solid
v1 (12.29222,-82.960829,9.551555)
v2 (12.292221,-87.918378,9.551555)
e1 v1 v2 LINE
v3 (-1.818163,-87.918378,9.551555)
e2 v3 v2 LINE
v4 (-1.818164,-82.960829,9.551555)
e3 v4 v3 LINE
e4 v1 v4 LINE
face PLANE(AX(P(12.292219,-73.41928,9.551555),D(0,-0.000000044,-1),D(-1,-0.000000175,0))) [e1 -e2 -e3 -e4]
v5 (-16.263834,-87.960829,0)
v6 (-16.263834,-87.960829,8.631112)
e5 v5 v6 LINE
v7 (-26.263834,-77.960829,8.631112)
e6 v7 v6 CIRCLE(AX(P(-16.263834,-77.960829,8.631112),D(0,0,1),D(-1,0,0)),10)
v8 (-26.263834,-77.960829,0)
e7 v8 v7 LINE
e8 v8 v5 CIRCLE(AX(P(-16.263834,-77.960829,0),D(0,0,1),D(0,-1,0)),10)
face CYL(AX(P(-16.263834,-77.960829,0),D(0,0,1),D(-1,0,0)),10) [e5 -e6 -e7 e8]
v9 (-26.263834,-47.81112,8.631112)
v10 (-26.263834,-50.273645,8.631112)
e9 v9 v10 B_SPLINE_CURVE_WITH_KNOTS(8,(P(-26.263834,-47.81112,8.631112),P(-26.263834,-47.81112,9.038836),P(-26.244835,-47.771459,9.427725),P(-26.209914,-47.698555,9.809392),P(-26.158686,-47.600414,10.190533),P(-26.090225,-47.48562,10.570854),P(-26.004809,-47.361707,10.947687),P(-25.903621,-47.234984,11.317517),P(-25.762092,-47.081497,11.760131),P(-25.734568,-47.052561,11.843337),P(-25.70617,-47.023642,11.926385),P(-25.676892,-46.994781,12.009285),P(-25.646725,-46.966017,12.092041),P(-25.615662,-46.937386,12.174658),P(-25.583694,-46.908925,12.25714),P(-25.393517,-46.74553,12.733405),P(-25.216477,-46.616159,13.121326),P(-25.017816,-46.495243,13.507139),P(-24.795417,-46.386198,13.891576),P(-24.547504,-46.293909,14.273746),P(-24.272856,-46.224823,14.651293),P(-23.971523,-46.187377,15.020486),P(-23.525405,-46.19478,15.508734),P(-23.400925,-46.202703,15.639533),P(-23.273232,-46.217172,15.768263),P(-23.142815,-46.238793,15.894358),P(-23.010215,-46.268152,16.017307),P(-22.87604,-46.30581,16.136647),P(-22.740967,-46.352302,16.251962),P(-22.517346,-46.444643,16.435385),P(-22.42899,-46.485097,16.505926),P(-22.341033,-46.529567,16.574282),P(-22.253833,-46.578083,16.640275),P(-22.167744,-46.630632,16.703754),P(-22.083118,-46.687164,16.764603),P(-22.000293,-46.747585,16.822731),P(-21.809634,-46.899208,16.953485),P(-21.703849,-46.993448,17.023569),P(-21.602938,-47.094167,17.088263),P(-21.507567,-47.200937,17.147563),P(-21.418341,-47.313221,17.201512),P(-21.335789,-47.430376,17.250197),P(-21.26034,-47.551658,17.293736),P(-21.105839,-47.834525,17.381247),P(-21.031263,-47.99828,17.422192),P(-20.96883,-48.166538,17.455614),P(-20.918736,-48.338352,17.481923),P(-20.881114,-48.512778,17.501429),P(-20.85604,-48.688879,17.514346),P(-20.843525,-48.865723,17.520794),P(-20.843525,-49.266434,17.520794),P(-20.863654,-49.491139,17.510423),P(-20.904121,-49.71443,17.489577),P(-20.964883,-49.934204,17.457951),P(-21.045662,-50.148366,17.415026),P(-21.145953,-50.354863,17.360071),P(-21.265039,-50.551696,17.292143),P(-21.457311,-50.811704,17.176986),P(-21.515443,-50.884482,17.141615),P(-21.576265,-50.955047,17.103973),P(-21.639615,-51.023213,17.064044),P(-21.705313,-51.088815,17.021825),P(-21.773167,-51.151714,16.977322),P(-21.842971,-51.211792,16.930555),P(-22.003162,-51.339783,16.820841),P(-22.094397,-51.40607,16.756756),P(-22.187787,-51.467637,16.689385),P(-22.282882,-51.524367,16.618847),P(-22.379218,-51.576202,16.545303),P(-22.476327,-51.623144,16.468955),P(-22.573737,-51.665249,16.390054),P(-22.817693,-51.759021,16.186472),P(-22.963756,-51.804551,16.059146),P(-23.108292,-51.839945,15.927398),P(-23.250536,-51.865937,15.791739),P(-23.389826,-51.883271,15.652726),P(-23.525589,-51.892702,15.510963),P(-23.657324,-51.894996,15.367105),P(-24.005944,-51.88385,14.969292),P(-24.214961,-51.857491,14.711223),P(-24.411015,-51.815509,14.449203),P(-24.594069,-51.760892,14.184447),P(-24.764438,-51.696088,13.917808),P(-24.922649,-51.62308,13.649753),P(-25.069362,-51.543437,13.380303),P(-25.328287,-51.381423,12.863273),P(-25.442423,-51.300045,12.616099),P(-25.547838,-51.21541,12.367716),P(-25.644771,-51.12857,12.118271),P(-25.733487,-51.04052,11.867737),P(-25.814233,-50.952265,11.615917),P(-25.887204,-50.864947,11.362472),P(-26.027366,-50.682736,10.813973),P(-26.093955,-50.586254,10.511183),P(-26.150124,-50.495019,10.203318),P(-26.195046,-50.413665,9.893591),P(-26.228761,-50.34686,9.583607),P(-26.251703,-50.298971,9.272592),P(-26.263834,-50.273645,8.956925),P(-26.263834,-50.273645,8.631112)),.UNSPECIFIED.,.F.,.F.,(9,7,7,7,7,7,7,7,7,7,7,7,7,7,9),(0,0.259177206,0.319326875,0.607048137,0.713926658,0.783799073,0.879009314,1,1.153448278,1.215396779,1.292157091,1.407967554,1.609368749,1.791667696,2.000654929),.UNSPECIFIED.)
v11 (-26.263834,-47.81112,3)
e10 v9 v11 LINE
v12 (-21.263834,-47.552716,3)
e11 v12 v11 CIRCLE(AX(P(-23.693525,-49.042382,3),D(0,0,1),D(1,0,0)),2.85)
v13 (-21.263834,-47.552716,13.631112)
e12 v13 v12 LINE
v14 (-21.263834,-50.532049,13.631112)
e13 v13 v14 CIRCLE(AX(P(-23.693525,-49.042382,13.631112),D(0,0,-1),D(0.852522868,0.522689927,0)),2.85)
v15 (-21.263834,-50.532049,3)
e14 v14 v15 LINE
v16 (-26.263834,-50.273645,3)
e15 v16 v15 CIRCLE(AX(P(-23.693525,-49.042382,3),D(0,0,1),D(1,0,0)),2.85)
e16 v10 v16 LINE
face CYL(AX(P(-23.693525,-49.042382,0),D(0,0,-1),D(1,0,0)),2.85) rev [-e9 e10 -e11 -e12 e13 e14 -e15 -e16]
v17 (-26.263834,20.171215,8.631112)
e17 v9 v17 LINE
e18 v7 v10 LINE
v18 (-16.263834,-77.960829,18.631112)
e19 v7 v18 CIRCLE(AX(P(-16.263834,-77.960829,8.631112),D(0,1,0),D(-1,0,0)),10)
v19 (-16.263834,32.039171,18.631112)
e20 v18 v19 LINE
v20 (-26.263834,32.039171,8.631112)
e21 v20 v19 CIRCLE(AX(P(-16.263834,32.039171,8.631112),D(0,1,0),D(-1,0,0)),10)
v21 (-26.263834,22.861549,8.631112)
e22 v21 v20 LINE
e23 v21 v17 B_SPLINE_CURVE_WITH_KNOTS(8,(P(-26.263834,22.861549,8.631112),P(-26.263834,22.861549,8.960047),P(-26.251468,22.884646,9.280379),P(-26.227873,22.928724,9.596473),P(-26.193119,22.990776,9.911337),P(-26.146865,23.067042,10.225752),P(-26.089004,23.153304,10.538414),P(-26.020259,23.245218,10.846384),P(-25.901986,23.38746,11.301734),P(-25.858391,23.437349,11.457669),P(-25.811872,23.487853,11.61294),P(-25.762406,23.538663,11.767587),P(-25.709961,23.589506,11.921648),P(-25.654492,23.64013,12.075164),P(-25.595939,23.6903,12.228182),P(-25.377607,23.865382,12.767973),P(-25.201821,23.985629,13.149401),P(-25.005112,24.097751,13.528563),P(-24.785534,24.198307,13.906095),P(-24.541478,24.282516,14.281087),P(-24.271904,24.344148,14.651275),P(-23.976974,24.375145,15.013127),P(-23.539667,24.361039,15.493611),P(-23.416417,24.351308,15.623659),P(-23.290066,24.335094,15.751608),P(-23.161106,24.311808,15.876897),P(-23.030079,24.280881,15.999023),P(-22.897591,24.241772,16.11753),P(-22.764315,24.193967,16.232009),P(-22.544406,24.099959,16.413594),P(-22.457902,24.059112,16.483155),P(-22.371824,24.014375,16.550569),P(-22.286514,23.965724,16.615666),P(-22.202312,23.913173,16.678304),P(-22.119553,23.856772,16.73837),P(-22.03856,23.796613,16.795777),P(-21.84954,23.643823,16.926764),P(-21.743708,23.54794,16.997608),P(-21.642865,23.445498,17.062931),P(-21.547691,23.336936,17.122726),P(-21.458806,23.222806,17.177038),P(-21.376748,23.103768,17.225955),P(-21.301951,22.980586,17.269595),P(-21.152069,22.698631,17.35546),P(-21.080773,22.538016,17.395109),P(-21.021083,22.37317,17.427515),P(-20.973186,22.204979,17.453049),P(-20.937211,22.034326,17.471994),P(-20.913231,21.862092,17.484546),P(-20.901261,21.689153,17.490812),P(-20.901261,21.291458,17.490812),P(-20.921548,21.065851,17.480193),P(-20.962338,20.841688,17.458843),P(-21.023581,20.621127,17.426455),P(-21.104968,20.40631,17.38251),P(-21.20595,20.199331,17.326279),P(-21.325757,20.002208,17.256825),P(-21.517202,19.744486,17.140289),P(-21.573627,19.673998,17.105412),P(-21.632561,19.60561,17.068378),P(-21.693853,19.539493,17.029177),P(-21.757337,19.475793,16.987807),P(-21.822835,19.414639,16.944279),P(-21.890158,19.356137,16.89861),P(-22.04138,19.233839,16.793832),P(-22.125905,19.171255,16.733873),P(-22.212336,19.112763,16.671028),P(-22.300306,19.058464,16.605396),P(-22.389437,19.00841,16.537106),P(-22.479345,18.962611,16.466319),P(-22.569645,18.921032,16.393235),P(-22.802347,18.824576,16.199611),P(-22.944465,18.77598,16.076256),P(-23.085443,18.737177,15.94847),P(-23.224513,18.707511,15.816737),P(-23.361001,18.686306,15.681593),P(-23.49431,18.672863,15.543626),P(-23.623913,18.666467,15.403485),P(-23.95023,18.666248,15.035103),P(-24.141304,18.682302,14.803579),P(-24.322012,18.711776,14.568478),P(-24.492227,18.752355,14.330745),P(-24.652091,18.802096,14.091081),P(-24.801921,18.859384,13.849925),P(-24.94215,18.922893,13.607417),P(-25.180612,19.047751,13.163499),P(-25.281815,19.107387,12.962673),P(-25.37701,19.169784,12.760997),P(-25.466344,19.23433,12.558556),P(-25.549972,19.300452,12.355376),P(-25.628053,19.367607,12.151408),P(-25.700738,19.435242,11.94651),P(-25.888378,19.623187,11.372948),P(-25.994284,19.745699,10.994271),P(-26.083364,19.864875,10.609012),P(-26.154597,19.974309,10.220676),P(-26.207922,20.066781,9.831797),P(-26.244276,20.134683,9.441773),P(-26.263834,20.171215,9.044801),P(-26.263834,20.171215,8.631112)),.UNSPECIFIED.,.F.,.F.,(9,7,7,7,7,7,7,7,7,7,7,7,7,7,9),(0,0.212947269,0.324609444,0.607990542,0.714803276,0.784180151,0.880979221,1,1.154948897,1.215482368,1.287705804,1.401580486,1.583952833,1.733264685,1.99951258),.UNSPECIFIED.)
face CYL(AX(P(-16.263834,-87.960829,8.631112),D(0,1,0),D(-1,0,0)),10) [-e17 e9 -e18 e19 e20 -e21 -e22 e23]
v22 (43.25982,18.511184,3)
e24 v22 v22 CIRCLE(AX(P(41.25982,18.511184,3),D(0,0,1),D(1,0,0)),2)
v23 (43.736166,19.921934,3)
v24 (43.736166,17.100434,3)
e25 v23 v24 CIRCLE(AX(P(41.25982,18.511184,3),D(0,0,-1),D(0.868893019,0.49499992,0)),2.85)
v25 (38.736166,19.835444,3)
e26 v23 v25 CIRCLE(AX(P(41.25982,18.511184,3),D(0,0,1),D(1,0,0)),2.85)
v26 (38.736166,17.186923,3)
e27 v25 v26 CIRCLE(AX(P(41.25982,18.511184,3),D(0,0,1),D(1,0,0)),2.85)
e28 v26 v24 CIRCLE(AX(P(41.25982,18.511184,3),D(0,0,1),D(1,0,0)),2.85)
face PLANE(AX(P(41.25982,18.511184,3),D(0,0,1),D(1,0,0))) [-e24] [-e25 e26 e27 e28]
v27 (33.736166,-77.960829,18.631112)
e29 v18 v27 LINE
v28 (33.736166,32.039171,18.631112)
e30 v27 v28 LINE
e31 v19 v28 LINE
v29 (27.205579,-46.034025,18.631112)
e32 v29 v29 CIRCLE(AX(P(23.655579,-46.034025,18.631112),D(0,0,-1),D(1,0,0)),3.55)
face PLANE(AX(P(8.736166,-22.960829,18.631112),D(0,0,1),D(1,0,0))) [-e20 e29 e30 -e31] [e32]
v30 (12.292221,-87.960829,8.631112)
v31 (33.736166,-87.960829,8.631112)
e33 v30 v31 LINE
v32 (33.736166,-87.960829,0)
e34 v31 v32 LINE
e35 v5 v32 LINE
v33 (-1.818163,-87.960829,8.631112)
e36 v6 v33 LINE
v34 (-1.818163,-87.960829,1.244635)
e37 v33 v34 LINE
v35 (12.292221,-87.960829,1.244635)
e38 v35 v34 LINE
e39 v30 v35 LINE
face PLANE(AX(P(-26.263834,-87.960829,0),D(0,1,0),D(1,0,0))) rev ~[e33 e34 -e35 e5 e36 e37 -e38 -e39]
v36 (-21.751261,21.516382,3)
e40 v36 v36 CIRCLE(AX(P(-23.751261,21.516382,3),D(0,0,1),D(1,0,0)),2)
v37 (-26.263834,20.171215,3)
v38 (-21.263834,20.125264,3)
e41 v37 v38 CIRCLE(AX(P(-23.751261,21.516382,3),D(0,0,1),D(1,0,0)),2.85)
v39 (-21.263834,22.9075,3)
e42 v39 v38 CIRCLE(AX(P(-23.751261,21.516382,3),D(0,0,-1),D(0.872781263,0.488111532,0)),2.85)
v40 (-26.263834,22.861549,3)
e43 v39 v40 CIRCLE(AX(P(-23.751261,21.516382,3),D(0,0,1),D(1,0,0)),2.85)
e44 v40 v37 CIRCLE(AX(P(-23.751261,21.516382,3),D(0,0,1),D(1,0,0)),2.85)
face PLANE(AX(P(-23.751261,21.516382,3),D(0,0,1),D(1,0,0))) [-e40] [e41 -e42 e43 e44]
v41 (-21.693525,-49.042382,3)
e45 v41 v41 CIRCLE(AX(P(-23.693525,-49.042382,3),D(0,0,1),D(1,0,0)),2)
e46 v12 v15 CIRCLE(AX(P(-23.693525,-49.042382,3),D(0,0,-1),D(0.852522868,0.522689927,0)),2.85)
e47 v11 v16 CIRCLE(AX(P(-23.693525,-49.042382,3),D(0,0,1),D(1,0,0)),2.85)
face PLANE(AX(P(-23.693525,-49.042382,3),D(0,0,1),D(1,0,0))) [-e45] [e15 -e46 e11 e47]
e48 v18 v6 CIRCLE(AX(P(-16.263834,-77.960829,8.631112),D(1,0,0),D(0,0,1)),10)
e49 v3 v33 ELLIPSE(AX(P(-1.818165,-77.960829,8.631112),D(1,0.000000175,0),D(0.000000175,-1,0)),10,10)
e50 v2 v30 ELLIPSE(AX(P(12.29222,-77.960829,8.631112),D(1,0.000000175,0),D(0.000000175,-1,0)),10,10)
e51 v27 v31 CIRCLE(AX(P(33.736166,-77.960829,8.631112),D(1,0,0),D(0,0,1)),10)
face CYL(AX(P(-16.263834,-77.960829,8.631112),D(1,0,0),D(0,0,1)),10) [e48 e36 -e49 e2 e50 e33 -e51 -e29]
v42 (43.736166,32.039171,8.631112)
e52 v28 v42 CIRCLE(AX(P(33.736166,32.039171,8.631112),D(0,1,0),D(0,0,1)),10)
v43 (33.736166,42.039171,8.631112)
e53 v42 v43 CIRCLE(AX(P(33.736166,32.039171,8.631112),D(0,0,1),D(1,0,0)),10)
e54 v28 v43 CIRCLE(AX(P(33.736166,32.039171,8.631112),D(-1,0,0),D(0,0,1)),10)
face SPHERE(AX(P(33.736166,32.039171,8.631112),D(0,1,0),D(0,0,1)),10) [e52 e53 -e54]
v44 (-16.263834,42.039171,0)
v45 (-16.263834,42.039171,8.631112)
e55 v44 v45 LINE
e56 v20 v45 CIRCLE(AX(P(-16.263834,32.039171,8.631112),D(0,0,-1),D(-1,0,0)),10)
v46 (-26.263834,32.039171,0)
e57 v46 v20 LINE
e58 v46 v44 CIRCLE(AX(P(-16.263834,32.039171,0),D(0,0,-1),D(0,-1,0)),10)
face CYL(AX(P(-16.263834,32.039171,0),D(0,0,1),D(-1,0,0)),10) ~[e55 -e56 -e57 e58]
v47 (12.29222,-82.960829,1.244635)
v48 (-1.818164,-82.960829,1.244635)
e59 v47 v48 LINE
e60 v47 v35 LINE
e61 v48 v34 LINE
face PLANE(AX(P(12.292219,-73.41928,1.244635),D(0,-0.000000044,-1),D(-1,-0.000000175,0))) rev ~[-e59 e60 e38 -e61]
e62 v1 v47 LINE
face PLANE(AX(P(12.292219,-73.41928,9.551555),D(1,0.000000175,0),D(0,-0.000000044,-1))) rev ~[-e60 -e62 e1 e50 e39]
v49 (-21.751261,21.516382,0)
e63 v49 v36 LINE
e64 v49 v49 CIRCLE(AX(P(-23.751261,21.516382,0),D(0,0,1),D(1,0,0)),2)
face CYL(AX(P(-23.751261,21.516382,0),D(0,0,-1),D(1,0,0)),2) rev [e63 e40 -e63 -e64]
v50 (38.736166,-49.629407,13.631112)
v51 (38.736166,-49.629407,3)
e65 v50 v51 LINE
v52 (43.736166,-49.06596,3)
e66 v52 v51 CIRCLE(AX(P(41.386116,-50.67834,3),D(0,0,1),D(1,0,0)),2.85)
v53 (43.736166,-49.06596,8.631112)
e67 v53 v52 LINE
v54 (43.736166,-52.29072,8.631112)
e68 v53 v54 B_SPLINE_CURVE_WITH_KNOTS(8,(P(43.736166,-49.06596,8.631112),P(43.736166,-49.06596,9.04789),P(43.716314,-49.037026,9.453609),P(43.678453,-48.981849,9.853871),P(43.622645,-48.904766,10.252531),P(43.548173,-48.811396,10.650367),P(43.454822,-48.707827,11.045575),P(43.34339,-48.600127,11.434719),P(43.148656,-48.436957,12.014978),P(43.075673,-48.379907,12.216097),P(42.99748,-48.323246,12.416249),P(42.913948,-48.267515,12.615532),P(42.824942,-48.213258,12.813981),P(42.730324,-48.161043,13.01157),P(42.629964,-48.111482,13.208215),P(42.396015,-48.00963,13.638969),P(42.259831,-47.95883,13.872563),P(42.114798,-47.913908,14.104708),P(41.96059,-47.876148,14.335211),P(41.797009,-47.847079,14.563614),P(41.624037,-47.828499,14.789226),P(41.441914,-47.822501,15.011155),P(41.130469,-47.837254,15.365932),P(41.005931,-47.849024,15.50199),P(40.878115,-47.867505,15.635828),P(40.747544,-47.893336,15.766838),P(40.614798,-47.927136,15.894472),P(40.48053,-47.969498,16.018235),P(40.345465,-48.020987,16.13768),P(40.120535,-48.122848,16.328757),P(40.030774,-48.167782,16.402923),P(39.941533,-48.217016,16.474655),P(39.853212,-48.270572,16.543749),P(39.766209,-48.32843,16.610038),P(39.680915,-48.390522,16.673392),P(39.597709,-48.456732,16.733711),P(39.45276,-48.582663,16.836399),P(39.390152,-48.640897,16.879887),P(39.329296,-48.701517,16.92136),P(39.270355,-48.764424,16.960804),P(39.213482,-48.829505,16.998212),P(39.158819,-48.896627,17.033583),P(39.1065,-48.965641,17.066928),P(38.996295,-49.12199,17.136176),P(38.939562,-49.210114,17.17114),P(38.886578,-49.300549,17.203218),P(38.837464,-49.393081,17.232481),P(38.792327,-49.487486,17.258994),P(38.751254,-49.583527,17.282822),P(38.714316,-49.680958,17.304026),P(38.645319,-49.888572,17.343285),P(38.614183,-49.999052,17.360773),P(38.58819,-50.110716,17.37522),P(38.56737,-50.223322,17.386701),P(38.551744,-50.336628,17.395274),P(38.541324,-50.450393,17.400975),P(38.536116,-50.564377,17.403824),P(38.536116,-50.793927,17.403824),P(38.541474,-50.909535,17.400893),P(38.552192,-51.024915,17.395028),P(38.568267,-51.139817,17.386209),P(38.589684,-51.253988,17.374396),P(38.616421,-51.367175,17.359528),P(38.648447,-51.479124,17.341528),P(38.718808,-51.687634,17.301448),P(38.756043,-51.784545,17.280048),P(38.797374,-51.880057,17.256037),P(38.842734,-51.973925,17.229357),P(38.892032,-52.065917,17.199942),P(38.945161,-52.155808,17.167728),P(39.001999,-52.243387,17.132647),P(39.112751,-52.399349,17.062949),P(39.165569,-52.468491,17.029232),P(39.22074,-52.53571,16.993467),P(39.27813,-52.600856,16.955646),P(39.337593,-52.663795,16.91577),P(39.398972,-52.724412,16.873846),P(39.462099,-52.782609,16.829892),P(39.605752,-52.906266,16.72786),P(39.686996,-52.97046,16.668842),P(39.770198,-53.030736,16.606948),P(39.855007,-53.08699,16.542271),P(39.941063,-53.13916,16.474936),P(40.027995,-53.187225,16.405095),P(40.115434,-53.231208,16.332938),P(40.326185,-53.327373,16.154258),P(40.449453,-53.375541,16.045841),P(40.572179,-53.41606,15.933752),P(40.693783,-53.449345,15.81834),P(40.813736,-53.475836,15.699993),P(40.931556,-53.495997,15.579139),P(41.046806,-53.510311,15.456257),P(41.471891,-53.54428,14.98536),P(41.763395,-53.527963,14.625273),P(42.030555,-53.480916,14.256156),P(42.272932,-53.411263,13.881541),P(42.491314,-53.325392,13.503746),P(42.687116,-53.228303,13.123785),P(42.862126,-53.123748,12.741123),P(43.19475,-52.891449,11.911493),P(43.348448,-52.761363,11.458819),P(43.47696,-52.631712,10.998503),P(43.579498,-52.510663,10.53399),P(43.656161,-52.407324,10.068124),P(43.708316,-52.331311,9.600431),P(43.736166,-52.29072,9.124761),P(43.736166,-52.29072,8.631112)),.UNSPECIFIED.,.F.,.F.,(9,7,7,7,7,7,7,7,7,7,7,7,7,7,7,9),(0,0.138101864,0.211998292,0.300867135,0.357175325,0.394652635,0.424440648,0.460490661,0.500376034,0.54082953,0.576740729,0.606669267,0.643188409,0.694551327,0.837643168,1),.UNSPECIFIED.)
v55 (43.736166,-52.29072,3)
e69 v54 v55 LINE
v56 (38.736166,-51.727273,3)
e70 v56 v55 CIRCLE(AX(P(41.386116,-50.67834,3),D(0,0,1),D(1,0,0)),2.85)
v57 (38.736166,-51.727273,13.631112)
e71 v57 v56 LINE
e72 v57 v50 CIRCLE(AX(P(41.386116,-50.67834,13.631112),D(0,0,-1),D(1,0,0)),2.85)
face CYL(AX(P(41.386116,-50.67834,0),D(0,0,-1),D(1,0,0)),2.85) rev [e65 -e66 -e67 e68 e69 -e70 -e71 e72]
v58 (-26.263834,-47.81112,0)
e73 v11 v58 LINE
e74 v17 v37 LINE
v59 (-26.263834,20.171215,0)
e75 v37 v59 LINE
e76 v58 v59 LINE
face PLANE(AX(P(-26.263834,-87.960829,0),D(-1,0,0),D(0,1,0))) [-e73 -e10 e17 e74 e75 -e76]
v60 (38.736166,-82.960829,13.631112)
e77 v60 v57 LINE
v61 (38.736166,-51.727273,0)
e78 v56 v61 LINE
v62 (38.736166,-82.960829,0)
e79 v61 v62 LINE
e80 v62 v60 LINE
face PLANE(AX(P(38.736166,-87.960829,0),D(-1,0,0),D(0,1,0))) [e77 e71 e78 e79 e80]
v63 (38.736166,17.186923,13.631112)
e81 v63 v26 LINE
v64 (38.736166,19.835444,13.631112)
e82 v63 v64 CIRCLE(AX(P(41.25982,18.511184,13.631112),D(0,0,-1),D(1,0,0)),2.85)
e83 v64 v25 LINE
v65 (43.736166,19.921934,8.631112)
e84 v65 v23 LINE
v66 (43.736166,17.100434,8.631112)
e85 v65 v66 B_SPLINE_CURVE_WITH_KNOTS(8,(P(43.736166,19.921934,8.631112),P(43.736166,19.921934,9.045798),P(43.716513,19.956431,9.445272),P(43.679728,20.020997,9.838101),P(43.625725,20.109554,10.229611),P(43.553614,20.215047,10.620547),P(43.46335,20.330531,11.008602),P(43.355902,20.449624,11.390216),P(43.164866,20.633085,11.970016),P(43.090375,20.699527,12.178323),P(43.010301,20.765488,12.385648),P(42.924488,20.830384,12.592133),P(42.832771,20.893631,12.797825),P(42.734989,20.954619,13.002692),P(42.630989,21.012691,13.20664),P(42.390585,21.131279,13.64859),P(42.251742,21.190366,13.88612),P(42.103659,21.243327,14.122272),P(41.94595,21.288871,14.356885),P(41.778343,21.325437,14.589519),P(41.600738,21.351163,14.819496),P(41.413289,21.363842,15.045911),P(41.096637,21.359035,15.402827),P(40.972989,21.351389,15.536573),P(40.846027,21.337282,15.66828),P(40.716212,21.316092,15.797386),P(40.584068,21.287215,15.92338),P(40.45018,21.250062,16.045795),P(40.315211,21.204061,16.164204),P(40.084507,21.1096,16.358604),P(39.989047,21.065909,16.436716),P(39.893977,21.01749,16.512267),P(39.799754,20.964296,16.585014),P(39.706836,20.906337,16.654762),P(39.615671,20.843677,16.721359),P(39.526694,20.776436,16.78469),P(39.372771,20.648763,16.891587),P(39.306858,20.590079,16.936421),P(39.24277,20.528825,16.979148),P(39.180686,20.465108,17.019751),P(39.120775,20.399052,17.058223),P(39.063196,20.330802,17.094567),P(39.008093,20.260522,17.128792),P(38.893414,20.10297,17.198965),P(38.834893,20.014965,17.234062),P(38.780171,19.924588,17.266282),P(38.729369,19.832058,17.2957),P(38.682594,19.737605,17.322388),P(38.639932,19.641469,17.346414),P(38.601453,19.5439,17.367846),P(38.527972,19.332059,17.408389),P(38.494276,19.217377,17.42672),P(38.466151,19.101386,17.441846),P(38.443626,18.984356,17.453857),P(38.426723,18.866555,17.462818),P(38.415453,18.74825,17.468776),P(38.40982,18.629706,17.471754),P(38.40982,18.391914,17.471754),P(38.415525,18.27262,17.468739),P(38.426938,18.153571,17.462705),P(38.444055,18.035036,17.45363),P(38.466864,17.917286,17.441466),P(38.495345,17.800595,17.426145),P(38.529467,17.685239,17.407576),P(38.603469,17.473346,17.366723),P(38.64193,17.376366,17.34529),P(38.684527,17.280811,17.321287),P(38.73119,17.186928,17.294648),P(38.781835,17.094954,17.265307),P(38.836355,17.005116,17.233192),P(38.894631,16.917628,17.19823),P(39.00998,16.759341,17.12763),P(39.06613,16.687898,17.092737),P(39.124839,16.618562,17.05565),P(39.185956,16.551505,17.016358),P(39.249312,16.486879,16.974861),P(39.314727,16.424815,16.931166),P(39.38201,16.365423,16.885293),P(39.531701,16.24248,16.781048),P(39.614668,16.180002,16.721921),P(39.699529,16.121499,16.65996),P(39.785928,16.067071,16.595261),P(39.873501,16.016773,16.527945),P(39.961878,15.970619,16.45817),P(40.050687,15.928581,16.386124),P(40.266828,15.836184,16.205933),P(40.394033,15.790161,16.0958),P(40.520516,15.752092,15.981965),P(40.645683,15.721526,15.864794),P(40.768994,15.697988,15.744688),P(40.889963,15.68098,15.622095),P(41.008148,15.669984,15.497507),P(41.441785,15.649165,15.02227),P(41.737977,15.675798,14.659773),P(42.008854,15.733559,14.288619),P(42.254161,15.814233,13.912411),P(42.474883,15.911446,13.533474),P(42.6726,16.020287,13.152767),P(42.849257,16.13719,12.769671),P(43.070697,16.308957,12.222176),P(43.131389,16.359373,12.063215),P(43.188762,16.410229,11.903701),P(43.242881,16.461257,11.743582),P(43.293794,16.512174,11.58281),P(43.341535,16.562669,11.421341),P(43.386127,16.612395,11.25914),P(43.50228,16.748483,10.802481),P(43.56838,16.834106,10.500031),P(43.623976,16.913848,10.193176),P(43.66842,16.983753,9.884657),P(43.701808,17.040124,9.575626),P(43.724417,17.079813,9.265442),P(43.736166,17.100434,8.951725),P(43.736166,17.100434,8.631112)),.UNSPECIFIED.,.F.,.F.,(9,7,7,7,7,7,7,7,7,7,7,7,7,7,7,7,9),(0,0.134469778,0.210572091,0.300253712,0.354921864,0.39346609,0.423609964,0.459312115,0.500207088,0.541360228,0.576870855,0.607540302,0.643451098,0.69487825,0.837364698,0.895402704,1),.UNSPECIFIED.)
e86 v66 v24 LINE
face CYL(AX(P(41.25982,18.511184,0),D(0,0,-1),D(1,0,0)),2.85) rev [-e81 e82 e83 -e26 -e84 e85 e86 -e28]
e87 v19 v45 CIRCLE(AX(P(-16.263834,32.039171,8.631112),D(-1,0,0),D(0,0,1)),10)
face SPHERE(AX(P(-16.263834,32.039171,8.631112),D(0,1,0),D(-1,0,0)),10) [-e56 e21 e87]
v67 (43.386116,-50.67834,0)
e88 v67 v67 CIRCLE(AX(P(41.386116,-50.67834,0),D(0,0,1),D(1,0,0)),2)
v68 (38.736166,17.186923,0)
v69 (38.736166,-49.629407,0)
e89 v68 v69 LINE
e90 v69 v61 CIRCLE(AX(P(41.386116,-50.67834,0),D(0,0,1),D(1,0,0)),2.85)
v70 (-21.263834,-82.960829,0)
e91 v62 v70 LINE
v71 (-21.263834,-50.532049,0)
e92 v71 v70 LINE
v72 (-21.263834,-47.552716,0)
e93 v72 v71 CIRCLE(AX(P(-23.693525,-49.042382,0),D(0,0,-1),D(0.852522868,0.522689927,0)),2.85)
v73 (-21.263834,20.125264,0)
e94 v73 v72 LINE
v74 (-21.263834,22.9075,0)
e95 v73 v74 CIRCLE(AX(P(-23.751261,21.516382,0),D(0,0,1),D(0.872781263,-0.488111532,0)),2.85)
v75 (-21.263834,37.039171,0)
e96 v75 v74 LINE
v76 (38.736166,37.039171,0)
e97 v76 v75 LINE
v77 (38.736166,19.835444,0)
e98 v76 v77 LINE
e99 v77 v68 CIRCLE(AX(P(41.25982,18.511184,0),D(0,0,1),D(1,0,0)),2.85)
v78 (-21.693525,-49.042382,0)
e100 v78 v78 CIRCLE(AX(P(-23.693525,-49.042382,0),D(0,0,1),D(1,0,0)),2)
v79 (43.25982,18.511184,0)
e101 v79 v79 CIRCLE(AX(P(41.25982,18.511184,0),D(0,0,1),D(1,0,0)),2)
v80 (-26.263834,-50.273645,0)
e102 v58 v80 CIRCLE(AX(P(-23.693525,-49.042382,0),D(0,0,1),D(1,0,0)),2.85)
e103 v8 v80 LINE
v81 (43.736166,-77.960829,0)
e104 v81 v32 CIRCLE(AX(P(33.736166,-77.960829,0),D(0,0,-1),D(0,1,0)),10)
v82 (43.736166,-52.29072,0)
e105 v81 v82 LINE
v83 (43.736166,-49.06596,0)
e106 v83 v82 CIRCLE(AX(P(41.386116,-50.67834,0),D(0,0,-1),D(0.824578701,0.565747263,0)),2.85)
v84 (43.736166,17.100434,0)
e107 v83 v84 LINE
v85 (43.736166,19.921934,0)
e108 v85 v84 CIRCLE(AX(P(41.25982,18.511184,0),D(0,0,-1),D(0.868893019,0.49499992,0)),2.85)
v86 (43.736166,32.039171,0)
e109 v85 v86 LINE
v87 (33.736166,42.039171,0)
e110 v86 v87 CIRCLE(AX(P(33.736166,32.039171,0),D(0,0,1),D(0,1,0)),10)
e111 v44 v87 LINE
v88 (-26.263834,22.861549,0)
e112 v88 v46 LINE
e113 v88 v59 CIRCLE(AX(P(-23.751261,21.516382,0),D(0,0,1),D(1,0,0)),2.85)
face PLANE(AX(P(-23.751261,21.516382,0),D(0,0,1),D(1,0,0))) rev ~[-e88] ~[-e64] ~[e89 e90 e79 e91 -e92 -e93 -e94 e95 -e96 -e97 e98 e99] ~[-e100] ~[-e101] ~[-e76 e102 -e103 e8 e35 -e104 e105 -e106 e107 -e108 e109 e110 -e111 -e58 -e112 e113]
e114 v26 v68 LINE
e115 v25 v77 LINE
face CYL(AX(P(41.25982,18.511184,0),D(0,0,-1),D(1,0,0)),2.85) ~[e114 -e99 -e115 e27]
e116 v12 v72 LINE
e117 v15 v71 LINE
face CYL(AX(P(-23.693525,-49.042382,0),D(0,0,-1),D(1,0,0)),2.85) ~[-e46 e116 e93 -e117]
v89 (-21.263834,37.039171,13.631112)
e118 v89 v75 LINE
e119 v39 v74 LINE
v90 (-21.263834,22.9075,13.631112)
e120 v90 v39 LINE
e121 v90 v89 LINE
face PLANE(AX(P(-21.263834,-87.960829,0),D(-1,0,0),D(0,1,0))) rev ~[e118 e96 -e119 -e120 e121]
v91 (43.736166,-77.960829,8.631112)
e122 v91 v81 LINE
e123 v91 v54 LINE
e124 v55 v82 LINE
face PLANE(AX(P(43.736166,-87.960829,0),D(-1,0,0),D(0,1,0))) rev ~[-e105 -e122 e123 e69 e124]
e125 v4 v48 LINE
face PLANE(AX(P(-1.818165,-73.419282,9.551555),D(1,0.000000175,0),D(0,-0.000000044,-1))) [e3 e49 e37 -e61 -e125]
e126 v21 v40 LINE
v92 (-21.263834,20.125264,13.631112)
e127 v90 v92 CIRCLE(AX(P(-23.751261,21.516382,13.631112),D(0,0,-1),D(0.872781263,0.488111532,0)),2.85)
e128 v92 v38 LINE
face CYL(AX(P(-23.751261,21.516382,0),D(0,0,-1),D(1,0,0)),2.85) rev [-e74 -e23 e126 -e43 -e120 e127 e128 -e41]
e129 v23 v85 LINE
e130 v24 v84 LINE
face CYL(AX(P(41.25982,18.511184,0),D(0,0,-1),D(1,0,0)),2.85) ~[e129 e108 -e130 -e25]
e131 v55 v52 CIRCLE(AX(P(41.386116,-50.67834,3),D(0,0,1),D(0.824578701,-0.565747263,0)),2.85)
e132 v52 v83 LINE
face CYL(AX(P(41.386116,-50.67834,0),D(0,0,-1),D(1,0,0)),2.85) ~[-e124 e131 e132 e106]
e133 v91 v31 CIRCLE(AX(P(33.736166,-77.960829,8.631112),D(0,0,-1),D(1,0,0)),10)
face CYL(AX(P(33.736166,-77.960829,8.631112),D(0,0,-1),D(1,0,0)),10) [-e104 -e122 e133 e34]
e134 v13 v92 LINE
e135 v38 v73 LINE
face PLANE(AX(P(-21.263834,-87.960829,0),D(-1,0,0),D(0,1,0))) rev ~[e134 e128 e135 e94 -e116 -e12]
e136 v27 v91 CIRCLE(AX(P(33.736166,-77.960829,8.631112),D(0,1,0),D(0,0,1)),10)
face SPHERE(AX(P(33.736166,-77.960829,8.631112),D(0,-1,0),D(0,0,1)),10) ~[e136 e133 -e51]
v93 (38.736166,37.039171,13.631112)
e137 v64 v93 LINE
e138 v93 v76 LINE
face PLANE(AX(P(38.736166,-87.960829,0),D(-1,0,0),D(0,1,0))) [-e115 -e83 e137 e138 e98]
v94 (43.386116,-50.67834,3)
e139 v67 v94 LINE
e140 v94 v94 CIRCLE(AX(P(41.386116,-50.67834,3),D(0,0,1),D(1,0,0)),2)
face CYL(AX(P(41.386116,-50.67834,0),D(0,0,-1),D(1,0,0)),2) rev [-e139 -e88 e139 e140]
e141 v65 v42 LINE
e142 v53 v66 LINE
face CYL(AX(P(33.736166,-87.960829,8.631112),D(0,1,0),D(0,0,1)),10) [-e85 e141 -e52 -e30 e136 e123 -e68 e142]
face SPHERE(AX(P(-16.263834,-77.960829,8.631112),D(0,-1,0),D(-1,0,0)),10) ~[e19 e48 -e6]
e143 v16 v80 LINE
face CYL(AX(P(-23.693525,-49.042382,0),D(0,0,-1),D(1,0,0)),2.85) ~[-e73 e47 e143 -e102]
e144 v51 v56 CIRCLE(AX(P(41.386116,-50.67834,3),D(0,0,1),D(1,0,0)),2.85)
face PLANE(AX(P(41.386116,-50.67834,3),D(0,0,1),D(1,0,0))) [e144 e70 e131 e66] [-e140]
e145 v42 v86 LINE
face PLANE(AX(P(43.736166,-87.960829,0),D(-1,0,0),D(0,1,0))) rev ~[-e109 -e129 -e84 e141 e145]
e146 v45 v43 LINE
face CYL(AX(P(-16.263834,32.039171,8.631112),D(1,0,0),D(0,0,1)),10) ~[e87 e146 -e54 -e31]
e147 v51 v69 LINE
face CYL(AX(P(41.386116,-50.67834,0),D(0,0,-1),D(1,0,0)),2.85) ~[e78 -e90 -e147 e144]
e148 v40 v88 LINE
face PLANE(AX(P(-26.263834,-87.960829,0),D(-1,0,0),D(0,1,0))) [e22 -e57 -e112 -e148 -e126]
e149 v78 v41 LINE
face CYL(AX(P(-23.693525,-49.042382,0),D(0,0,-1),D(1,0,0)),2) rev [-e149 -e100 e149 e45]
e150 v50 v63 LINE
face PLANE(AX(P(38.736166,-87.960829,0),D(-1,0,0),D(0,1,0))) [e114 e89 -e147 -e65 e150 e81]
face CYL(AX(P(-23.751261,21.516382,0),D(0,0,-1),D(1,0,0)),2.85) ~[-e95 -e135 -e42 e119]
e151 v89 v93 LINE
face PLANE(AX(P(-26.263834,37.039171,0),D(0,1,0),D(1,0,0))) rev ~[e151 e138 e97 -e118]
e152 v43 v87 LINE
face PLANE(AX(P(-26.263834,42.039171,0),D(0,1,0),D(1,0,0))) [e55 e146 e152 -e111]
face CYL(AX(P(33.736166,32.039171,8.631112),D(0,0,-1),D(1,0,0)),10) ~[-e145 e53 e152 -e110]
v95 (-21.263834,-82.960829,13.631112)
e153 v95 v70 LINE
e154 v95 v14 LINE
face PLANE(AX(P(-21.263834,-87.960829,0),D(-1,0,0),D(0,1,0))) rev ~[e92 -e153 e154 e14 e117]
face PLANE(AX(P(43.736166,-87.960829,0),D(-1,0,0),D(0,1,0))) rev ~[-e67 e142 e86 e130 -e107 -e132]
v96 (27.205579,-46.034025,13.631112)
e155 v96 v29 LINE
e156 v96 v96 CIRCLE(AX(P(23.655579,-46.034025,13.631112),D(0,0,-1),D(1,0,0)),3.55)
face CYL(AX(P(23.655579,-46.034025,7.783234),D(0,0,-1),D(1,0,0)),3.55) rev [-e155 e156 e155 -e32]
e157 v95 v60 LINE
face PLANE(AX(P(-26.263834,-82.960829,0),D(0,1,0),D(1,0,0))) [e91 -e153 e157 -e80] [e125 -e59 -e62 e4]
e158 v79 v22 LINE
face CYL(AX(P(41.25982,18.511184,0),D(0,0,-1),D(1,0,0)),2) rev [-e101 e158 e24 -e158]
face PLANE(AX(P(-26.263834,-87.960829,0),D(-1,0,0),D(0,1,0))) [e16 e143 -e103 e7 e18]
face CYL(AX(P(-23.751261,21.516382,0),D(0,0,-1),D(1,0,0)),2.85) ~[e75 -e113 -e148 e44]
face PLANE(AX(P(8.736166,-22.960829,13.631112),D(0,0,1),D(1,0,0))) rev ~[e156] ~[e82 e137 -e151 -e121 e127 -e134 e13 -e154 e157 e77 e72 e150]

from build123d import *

# Parameters (mm, degrees)
SKETCH1_W           = 70
SKETCH1_H           = 130
BOSS_EXTRUDE1_DEPTH = 18.631112222
SHELL1_T            = -5
FILLET1_R           = 10
FILLET2_R           = 10
FILLET4_R           = 10
FILLET6_R           = 10
SKETCH2_R           = 3.55
CUT_EXTRUDE1_DEPTH  = 26
SKETCH3_W           = 14.110384164
SKETCH3_H           = 8.306919709
CUT_EXTRUDE4_DEPTH  = 30
SKETCH4_R           = 2.85
CUT_EXTRUDE5_DEPTH  = 24
SKETCH5_R           = 2.85
SKETCH5_R_2         = 2
BOSS_EXTRUDE2_DEPTH = 3


with BuildPart() as part:
    # Sketch1 → Boss-Extrude1 (new body)
    with BuildSketch(Plane.XY):
        with Locations((8.736165571, -22.960828507)):
            Rectangle(SKETCH1_W, SKETCH1_H)
    extrude(amount=BOSS_EXTRUDE1_DEPTH)

    # Shell1
    shell1_openings = [part.faces().sort_by_distance(p)[0] for p in [
        (8.736165571, -22.960828507, 0),
    ]]
    offset(amount=SHELL1_T, openings=shell1_openings, kind=Kind.INTERSECTION)

    # Fillet1
    fillet1_edges = [part.edges().sort_by_distance(p)[0] for p in [
        (-26.263834429, -22.960828507, 18.631112222),
    ]]
    fillet(fillet1_edges, radius=FILLET1_R)

    # Fillet2
    fillet2_edges = [part.edges().sort_by_distance(p)[0] for p in [
        (43.736165571, -22.960828507, 18.631112222),
    ]]
    fillet(fillet2_edges, radius=FILLET2_R)

    # Fillet4
    fillet4_edges = [part.edges().sort_by_distance(p)[0] for p in [
        (-26.263834429, 42.039171493, 4.315556111),
        (-23.334902241, 42.039171493, 15.702180034),
        (8.736165571, 42.039171493, 18.631112222),
        (43.736165571, 42.039171493, 4.315556111),
        (40.807233383, 42.039171493, 15.702180034),
    ]]
    fillet(fillet4_edges, radius=FILLET4_R)

    # Fillet6
    fillet6_edges = [part.edges().sort_by_distance(p)[0] for p in [
        (8.736165571, -87.960828507, 18.631112222),
        (-26.263834429, -87.960828507, 4.315556111),
        (-23.334902241, -87.960828507, 15.702180034),
        (43.736165571, -87.960828507, 4.315556111),
        (40.807233383, -87.960828507, 15.702180034),
    ]]
    fillet(fillet6_edges, radius=FILLET6_R)

    # Sketch2 → Cut-Extrude1 (cut)
    with BuildSketch(Plane.XY.offset(7.783233926)):
        with Locations((23.655578881, -46.034025118)):
            Circle(SKETCH2_R)
    extrude(amount=CUT_EXTRUDE1_DEPTH, mode=Mode.SUBTRACT)

    # Sketch3 → Cut-Extrude4 (cut)
    with BuildSketch(Plane(origin=(1.2837e-05, -73.41928233, 3.209e-06), x_dir=(-1, -1.75e-07, 0), z_dir=(1.75e-07, -1, 4.4e-08))):
        with Locations((-5.237013871, -5.398091498)):
            Rectangle(SKETCH3_W, SKETCH3_H)
    extrude(amount=CUT_EXTRUDE4_DEPTH, mode=Mode.SUBTRACT)

    # Sketch4 → Cut-Extrude5 (cut)
    with BuildSketch(Plane.XY):
        with Locations((41.386116272, -50.678340094)):
            Circle(SKETCH4_R)
        with Locations((41.259820466, 18.511183857)):
            Circle(SKETCH4_R)
        with Locations((-23.693524603, -49.042382464)):
            Circle(SKETCH4_R)
        with Locations((-23.751261028, 21.516382028)):
            Circle(SKETCH4_R)
    extrude(amount=CUT_EXTRUDE5_DEPTH, mode=Mode.SUBTRACT)

    # Sketch5 → Boss-Extrude2 (add)
    with BuildSketch(Plane.XY):
        with Locations((-23.751261028, 21.516382028)):
            Circle(SKETCH5_R)
        with Locations((-23.751261028, 21.516382028)):
            Circle(SKETCH5_R_2, mode=Mode.SUBTRACT)
        with Locations((41.259820466, 18.511183857)):
            Circle(SKETCH5_R)
        with Locations((41.259820466, 18.511183857)):
            Circle(SKETCH5_R_2, mode=Mode.SUBTRACT)
        with Locations((41.386116272, -50.678340094)):
            Circle(SKETCH5_R)
        with Locations((41.386116272, -50.678340094)):
            Circle(SKETCH5_R_2, mode=Mode.SUBTRACT)
        with Locations((-23.693524603, -49.042382464)):
            Circle(SKETCH5_R)
        with Locations((-23.693524603, -49.042382464)):
            Circle(SKETCH5_R_2, mode=Mode.SUBTRACT)
    extrude(amount=BOSS_EXTRUDE2_DEPTH)


solid = part.part
